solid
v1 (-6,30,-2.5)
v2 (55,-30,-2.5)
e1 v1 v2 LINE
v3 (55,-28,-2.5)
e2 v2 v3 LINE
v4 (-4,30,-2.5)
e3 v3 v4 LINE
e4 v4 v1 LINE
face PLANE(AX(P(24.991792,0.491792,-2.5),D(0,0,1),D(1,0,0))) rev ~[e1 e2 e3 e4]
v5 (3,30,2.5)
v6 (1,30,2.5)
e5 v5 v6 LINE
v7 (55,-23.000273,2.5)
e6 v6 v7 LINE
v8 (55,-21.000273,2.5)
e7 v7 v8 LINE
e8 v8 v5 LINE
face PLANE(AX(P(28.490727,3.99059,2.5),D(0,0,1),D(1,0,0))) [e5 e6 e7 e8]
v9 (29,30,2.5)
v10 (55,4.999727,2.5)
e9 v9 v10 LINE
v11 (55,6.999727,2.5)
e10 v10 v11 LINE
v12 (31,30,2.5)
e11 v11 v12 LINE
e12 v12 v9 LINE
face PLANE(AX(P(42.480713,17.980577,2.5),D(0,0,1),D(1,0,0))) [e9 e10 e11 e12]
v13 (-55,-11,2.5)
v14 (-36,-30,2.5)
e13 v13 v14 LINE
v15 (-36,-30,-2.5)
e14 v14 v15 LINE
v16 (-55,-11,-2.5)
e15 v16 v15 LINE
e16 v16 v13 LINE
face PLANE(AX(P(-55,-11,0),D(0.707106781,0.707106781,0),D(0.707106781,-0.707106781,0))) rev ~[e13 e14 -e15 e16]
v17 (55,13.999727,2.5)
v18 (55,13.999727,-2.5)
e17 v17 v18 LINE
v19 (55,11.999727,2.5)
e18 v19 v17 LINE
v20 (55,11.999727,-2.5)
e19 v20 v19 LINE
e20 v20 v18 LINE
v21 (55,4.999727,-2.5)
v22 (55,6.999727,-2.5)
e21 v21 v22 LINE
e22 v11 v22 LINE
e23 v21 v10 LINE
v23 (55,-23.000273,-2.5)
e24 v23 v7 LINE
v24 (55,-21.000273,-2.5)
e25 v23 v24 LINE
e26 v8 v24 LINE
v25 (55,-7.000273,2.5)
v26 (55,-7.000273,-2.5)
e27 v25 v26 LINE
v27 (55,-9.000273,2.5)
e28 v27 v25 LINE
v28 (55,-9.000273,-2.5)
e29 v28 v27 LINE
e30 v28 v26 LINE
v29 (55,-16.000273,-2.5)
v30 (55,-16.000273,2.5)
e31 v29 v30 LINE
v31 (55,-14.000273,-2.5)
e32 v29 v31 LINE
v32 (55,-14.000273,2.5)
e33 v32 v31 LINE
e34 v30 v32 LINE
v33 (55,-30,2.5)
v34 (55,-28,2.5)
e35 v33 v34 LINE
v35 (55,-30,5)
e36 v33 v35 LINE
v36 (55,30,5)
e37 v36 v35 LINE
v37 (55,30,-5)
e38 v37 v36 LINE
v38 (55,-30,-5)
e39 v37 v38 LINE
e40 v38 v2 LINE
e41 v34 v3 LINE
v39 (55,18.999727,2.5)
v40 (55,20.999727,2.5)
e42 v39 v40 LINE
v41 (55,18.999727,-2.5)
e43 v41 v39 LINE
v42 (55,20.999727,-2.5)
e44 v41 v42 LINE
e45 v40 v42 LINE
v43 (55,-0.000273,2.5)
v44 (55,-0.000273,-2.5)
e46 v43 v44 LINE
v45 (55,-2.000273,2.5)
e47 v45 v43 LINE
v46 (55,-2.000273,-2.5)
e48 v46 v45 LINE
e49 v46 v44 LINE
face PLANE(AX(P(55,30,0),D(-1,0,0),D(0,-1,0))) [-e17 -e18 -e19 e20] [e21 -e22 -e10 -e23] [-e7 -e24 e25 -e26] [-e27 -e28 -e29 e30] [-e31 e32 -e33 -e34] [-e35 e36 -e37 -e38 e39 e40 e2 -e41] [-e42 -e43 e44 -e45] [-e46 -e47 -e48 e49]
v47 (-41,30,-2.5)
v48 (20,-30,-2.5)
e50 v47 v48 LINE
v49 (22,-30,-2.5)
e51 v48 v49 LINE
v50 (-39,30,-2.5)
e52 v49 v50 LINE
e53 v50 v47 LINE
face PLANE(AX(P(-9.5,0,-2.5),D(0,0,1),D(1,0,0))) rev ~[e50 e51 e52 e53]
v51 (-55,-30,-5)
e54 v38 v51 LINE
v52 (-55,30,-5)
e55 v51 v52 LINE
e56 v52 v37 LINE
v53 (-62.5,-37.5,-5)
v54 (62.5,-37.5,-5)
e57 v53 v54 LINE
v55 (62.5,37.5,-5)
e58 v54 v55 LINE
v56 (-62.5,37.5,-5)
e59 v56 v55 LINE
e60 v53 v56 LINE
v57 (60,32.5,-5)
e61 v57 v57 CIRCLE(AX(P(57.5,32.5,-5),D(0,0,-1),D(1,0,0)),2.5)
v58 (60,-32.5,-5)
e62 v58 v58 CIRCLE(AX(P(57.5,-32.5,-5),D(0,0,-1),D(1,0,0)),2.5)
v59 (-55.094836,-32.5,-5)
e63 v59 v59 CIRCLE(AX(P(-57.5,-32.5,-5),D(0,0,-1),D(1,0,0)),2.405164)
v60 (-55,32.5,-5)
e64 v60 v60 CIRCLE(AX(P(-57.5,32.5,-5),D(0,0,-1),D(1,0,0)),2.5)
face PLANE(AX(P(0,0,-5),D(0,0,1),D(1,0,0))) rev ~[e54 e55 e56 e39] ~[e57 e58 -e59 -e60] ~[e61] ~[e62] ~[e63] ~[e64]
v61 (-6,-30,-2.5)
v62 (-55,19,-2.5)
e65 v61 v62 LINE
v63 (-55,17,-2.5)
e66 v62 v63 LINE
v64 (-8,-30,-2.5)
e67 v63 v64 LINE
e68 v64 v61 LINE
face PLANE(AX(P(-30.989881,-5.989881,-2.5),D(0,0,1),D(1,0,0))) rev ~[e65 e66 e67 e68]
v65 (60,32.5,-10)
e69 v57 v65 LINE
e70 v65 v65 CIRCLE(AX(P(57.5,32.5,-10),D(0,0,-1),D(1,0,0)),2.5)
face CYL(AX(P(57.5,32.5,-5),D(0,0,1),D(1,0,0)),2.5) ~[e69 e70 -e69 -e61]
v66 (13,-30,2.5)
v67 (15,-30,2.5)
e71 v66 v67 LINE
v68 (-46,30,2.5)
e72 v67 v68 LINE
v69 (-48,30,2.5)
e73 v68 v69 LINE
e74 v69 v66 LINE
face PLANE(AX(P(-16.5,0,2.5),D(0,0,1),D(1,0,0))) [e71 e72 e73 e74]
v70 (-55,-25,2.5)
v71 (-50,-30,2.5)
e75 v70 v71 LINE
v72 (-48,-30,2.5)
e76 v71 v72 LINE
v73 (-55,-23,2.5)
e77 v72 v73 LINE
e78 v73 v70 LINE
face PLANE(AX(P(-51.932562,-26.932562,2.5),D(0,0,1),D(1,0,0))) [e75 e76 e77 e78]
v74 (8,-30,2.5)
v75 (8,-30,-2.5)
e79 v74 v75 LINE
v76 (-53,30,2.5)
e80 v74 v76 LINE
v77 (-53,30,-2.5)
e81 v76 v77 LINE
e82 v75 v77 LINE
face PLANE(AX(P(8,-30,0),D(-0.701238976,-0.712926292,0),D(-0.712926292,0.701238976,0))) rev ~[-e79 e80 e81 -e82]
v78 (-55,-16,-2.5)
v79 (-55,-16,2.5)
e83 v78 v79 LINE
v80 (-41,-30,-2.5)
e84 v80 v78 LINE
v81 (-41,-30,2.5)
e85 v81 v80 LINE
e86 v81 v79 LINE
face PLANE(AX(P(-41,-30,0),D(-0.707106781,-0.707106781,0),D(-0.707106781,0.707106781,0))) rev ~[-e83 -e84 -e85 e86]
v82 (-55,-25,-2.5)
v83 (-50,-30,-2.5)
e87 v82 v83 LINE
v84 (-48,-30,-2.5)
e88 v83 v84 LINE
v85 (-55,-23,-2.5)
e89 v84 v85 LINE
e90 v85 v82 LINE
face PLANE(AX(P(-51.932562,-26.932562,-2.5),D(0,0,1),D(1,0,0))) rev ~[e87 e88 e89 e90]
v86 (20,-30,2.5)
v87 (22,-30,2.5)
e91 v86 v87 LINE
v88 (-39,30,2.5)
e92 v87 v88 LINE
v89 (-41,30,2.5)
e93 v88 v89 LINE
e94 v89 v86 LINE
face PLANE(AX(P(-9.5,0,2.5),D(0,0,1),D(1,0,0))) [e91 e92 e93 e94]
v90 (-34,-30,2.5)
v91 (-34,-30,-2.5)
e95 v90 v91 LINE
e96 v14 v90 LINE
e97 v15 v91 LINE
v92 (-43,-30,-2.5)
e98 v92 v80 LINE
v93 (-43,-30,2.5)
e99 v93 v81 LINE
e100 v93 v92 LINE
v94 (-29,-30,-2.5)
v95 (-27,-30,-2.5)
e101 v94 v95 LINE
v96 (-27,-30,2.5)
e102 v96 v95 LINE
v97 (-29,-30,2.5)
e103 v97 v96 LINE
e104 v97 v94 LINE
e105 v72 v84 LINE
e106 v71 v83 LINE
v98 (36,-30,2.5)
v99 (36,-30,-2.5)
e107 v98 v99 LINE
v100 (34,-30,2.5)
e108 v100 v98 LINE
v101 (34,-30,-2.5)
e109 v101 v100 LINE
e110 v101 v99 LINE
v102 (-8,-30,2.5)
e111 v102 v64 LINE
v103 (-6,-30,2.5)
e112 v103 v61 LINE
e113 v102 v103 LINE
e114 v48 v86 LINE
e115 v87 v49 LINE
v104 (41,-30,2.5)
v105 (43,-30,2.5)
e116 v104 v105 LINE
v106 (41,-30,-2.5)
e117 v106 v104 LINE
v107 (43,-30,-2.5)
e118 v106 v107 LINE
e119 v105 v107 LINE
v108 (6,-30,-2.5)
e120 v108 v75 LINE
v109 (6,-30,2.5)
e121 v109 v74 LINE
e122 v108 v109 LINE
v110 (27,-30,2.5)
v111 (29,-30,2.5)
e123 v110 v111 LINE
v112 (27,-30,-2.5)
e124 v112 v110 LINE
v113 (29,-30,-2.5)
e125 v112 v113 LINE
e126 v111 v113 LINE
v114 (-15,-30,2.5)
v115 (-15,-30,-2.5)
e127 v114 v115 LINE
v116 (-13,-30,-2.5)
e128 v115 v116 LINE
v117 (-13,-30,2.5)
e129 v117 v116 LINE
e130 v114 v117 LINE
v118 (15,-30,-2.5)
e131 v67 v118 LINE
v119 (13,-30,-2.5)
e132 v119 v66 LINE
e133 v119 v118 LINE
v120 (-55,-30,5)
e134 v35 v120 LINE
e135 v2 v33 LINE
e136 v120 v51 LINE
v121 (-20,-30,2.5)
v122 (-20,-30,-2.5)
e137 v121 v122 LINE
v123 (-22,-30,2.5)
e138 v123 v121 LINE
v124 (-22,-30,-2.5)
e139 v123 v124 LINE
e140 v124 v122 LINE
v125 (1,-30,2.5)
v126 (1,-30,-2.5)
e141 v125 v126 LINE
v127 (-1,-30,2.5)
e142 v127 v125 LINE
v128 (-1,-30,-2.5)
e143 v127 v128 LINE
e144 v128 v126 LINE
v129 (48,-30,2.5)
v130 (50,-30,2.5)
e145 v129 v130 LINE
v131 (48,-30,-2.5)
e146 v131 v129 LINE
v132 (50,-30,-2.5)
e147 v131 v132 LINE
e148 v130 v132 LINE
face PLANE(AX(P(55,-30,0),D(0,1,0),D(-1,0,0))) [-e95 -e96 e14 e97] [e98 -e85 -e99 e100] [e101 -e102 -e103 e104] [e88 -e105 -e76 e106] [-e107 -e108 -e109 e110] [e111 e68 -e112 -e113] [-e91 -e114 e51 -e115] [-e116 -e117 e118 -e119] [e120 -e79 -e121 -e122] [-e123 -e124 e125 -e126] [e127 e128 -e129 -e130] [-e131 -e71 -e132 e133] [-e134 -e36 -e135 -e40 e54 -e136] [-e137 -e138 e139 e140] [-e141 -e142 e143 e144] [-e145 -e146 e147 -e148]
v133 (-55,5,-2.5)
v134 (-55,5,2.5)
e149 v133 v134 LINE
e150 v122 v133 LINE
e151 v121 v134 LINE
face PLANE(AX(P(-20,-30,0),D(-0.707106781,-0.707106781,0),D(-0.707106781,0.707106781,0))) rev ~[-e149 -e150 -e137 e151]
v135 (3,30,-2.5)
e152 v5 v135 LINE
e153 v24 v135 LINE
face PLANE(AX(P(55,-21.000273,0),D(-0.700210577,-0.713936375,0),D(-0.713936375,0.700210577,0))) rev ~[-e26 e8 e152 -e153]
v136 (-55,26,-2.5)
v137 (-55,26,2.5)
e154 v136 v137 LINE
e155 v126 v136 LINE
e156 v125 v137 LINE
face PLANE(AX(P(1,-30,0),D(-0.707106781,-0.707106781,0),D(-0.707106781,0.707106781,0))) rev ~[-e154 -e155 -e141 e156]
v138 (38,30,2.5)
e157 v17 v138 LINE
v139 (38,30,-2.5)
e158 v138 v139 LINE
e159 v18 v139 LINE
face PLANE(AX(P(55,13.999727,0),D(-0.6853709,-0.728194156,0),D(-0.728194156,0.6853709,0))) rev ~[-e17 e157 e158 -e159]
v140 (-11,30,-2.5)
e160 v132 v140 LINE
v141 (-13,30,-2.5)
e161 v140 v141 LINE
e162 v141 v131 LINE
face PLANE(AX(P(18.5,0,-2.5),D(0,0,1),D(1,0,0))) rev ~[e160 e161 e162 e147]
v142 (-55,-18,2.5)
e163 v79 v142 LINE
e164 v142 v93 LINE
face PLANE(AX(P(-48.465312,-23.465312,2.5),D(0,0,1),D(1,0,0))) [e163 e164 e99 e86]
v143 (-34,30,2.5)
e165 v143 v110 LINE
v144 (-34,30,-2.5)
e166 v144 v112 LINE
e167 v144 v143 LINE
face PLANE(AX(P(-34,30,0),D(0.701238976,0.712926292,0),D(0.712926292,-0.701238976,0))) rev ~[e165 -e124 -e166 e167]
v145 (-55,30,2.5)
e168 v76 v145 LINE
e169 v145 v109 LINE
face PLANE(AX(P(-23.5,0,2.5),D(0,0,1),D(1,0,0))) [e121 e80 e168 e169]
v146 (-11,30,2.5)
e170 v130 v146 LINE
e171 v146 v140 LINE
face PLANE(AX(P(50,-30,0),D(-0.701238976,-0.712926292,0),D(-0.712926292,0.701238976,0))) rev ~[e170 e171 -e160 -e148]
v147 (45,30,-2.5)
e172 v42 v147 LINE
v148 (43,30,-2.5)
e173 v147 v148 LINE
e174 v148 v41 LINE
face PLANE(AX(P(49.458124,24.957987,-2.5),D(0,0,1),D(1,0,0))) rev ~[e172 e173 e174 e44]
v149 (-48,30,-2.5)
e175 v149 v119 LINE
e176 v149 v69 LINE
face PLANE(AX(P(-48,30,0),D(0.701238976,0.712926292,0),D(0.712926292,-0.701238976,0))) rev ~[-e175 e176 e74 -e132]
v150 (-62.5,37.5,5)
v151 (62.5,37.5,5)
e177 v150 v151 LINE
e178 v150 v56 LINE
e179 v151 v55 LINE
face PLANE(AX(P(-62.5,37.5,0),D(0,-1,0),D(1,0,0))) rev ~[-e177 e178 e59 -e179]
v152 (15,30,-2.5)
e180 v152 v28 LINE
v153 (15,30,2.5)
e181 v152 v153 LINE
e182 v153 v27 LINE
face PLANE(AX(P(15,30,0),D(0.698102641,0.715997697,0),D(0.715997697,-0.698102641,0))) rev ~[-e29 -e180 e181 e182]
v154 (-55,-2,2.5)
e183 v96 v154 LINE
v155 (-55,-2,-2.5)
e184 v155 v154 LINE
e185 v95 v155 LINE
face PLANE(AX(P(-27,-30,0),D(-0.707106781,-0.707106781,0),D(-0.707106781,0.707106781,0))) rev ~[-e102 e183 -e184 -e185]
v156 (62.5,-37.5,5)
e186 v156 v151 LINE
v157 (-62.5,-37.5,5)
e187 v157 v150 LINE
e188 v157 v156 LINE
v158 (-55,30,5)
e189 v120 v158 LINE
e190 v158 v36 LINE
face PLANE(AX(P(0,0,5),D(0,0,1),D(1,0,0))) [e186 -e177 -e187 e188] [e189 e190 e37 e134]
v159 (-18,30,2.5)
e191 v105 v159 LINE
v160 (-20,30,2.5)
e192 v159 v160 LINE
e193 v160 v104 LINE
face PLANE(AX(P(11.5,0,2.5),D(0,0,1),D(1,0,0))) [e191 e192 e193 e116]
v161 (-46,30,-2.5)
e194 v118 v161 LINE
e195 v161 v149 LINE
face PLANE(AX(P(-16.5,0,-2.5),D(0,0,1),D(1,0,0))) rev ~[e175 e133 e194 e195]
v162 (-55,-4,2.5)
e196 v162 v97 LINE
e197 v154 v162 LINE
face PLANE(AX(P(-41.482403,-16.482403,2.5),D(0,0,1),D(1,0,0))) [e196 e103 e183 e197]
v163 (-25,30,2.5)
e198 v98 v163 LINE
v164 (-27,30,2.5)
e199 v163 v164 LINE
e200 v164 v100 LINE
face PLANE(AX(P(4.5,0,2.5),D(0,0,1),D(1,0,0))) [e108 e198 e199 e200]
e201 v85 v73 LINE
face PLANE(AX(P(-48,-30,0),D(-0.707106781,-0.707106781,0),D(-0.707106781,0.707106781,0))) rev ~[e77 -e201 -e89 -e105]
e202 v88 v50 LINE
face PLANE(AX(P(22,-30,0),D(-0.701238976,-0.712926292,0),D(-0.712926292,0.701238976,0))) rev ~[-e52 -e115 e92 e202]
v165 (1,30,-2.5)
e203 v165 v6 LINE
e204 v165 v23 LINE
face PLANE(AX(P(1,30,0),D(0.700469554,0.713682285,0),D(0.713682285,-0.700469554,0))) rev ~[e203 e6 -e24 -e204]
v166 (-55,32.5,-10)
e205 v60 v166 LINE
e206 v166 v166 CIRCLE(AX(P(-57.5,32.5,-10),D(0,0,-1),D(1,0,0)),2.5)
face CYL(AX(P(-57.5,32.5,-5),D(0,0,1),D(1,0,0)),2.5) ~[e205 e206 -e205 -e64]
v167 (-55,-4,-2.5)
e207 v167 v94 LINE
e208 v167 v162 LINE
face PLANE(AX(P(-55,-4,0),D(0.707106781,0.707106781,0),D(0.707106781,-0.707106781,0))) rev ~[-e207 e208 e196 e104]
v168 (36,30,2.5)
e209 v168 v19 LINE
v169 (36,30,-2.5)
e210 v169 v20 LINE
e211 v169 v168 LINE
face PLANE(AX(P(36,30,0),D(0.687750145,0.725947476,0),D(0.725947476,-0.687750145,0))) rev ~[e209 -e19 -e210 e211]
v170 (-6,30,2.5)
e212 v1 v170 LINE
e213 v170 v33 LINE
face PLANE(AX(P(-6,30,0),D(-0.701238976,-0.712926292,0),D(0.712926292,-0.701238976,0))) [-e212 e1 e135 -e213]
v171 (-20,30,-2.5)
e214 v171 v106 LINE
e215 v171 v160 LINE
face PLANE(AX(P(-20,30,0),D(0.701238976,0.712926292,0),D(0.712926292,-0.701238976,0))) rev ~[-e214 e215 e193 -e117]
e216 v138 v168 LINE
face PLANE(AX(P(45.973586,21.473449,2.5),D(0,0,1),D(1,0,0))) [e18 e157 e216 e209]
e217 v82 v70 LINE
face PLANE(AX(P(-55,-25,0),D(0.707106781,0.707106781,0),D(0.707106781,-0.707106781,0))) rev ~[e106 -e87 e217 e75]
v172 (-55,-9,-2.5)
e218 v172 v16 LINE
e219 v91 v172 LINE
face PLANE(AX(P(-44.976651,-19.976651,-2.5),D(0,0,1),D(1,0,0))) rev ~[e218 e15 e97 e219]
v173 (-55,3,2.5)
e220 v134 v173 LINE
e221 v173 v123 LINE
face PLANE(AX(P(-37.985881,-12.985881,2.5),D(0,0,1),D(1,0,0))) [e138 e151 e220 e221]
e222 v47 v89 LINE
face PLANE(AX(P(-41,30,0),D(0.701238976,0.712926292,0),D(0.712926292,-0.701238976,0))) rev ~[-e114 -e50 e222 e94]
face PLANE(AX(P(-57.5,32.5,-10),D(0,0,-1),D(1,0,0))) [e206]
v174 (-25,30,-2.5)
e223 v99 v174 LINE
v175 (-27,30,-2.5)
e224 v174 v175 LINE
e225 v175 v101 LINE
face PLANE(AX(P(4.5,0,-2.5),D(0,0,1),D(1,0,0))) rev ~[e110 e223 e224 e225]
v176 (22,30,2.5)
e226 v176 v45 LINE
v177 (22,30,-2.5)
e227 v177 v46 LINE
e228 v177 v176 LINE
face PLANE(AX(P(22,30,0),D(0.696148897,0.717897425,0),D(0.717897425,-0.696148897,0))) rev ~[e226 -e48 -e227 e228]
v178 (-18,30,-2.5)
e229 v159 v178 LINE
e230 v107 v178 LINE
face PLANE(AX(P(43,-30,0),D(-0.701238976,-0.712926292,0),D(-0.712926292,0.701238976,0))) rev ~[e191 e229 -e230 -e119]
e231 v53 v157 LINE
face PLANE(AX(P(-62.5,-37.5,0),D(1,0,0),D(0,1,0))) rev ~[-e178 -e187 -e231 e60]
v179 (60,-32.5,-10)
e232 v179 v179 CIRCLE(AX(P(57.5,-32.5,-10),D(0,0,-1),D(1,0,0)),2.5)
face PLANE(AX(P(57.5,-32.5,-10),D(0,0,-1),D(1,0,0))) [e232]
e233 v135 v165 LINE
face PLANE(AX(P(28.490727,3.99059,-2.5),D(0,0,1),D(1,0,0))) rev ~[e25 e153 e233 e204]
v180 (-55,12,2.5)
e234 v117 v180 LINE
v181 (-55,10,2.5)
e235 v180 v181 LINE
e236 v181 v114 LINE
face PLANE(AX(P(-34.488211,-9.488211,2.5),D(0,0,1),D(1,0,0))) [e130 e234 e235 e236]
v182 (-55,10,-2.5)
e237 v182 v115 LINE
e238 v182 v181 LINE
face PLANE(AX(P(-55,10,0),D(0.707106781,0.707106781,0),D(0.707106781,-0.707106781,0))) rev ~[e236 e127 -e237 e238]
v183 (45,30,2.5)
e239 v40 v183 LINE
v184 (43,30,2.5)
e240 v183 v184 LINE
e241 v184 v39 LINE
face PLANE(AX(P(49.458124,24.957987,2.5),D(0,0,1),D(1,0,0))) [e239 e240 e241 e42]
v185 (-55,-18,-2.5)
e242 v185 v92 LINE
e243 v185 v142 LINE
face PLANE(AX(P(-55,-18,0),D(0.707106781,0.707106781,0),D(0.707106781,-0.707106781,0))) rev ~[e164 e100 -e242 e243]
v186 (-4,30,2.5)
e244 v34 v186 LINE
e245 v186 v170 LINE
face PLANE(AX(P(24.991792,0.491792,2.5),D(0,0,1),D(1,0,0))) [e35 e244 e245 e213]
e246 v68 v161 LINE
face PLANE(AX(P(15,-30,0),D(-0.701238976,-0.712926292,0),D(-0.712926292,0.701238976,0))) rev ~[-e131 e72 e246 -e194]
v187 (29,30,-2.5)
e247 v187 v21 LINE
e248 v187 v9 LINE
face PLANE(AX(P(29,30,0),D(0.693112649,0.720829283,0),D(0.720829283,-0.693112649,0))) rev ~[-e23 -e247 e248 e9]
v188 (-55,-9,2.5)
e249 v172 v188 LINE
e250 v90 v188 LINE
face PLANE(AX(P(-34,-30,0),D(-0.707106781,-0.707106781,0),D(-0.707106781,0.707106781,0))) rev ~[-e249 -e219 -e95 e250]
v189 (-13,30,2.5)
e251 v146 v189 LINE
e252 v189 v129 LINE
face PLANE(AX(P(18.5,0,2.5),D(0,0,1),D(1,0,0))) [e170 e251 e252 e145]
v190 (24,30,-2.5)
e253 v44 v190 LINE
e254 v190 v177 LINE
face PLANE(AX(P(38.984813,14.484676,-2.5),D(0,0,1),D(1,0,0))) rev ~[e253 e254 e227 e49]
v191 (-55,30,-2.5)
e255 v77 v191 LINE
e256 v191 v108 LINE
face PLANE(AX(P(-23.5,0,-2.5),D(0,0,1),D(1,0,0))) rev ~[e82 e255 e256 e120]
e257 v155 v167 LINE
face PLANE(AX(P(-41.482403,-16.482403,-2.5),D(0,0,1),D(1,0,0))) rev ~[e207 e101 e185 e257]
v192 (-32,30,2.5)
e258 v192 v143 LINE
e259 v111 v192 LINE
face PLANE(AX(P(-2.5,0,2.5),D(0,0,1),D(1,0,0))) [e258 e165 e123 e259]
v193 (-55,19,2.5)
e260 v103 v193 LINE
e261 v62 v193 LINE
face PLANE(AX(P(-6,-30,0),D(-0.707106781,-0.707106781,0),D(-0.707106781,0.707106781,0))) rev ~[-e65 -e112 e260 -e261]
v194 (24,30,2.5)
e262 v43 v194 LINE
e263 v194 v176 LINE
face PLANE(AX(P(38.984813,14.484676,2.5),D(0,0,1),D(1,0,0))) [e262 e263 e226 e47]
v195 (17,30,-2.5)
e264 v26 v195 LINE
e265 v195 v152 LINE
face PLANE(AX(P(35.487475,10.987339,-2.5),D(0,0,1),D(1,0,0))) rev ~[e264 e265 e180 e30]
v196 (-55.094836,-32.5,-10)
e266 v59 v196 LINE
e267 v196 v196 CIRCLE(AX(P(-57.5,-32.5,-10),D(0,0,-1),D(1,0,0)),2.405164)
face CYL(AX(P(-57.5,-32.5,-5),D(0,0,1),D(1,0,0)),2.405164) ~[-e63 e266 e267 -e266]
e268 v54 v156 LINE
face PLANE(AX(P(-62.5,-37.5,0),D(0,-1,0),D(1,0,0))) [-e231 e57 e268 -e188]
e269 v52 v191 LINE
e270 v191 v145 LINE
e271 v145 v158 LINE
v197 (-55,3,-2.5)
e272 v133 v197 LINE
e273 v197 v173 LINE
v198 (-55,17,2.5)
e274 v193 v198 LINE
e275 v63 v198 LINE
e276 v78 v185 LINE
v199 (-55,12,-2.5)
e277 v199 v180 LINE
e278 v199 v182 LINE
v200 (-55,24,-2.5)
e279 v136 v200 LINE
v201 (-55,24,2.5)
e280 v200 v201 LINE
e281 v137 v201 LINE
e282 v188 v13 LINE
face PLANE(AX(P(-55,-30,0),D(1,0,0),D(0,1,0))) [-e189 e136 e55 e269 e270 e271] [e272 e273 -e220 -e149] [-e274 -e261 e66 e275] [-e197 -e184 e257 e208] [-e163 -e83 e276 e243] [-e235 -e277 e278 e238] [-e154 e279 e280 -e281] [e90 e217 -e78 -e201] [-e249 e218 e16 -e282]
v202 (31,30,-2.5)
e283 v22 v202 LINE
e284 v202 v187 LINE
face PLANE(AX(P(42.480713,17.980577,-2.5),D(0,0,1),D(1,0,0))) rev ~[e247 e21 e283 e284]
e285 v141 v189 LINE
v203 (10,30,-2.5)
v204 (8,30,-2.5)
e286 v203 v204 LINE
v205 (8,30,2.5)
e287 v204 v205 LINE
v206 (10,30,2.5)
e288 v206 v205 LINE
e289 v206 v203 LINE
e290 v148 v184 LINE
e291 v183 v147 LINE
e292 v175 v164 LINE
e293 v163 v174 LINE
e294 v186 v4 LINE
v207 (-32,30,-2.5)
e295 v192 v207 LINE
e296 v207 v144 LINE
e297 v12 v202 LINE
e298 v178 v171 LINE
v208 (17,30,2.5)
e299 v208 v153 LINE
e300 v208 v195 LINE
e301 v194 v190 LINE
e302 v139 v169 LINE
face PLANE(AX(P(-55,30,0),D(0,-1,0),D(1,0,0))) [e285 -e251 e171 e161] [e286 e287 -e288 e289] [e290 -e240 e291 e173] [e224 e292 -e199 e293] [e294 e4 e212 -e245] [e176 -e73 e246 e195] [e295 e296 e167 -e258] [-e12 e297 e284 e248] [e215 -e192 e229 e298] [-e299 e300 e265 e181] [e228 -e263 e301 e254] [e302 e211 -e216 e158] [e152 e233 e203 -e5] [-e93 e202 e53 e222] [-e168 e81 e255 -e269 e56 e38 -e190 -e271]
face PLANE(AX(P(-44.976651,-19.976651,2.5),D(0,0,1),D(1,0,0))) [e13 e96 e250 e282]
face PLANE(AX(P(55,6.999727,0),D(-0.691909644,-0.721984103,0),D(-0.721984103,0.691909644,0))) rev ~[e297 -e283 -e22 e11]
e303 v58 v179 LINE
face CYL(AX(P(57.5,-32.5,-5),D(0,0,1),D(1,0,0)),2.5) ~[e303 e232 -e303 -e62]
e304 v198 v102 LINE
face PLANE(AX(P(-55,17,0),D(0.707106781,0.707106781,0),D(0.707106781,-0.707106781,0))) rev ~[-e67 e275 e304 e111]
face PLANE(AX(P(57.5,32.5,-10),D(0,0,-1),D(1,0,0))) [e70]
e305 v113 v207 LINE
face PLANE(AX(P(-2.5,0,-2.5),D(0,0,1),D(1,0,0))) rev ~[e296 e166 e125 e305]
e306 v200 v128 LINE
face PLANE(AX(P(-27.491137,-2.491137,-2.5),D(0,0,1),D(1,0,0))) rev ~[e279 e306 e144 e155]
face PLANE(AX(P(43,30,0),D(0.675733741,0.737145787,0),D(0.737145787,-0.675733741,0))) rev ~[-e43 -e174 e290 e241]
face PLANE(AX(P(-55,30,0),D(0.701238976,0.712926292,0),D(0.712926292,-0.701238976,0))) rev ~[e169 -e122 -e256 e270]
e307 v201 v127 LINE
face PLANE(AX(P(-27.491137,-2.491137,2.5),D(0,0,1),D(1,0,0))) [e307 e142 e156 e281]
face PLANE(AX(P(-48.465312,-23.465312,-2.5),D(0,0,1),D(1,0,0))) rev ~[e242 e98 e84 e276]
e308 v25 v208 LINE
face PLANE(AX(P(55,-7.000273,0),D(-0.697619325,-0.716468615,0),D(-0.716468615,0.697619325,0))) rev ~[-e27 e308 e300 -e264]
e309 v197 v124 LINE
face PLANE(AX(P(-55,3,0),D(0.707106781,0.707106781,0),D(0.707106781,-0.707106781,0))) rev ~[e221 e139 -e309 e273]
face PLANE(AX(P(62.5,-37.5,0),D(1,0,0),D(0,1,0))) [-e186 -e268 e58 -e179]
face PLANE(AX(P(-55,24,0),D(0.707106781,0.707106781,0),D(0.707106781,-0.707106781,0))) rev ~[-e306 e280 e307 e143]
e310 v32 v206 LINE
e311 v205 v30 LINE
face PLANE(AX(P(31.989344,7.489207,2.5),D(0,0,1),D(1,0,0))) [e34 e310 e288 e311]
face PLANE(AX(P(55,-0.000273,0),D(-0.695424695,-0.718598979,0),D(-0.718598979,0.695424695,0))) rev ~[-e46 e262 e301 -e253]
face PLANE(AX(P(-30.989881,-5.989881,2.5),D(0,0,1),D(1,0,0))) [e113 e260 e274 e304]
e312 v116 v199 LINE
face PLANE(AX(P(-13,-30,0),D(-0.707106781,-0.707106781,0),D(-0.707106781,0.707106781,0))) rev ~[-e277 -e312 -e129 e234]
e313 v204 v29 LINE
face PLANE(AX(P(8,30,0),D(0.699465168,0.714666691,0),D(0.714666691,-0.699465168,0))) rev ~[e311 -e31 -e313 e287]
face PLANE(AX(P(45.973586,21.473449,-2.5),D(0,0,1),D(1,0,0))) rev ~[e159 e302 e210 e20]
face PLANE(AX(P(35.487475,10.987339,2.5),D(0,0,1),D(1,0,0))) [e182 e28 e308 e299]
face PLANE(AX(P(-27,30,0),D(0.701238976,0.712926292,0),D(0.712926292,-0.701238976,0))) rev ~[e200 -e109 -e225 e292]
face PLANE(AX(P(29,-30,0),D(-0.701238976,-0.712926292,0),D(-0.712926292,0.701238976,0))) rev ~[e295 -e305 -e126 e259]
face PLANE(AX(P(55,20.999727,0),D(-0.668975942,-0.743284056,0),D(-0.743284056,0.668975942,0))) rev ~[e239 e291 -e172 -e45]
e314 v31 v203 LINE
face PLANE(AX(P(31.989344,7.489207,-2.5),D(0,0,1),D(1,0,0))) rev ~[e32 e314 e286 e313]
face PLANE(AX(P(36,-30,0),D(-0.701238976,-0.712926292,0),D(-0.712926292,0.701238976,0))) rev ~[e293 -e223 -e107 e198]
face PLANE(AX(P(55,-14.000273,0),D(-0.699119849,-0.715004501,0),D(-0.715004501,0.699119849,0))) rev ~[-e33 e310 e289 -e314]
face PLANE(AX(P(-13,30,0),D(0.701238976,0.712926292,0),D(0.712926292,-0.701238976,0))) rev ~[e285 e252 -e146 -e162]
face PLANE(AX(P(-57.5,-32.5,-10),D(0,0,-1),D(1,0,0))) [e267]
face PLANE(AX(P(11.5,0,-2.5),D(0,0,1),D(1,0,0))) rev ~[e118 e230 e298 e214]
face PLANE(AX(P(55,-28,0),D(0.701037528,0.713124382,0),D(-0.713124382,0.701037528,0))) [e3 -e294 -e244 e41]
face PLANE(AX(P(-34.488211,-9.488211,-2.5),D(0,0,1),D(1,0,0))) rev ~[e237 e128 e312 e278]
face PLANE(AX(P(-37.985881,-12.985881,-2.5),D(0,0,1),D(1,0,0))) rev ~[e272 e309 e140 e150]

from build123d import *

# Parameters (mm, degrees)
F0_W     = 125
F0_H     = 75
F1_DEPTH = 5
F2_DEPTH = 2.5
F3_R     = 2.405164
F3_R_2   = 2.5
F4_DEPTH = 5


with BuildPart() as f1:
    # F0 (on Top) → F1 (new body, symmetric)
    with BuildSketch(Plane.XY):
        Rectangle(F0_W, F0_H)
        Polygon((-55, 26), (-55, 30), (-53, 30), (-48, 30), (-46, 30), (-41, 30), (-39, 30), (-34, 30), (-32, 30), (-27, 30), (-25, 30), (-20, 30), (-18, 30), (-13, 30), (-11, 30), (-6, 30), (-4, 30), (1, 30), (3, 30), (8, 30), (10, 30), (15, 30), (17, 30), (22, 30), (24, 30), (29, 30), (31, 30), (36, 30), (38, 30), (43, 30), (45, 30), (55, 30), (55, 20.999727), (55, 18.999727), (55, 13.999727), (55, 11.999727), (55, 6.999727), (55, 4.999727), (55, -0.000273), (55, -2.000273), (55, -7.000273), (55, -9.000273), (55, -14.000273), (55, -16.000273), (55, -21.000273), (55, -23.000273), (55, -28), (55, -30), (50, -30), (48, -30), (43, -30), (41, -30), (36, -30), (34, -30), (29, -30), (27, -30), (22, -30), (20, -30), (15, -30), (13, -30), (8, -30), (6, -30), (1, -30), (-1, -30), (-6, -30), (-8, -30), (-13, -30), (-15, -30), (-20, -30), (-22, -30), (-27, -30), (-29, -30), (-34, -30), (-36, -30), (-41, -30), (-43, -30), (-48, -30), (-50, -30), (-55, -30), (-55, -25), (-55, -23), (-55, -18), (-55, -16), (-55, -11), (-55, -9), (-55, -4), (-55, -2), (-55, 3), (-55, 5), (-55, 10), (-55, 12), (-55, 17), (-55, 19), (-55, 24), align=None, mode=Mode.SUBTRACT)
    extrude(amount=F1_DEPTH, both=True)

    # F0 (on Top) → F2 (join, symmetric)
    with BuildSketch(Plane.XY):
        Polygon((-48, -30), (-55, -23), (-55, -25), (-50, -30), align=None)
        Polygon((-41, -30), (-55, -16), (-55, -18), (-43, -30), align=None)
        Polygon((-34, -30), (-55, -9), (-55, -11), (-36, -30), align=None)
        Polygon((-27, -30), (-55, -2), (-55, -4), (-29, -30), align=None)
        Polygon((-20, -30), (-55, 5), (-55, 3), (-22, -30), align=None)
        Polygon((-13, -30), (-55, 12), (-55, 10), (-15, -30), align=None)
        Polygon((-6, -30), (-55, 19), (-55, 17), (-8, -30), align=None)
        Polygon((1, -30), (-55, 26), (-55, 24), (-1, -30), align=None)
        Polygon((-53, 30), (-55, 30), (6, -30), (8, -30), align=None)
        Polygon((-46, 30), (-48, 30), (13, -30), (15, -30), align=None)
        Polygon((-39, 30), (-41, 30), (20, -30), (22, -30), align=None)
        Polygon((-32, 30), (-34, 30), (27, -30), (29, -30), align=None)
        Polygon((-25, 30), (-27, 30), (34, -30), (36, -30), align=None)
        Polygon((-18, 30), (-20, 30), (41, -30), (43, -30), align=None)
        Polygon((-11, 30), (-13, 30), (48, -30), (50, -30), align=None)
        Polygon((3, 30), (1, 30), (55, -23.000273), (55, -21.000273), align=None)
        Polygon((10, 30), (8, 30), (55, -16.000273), (55, -14.000273), align=None)
        Polygon((45, 30), (43, 30), (55, 18.999727), (55, 20.999727), align=None)
        Polygon((38, 30), (36, 30), (55, 11.999727), (55, 13.999727), align=None)
        Polygon((31, 30), (29, 30), (55, 4.999727), (55, 6.999727), align=None)
        Polygon((24, 30), (22, 30), (55, -2.000273), (55, -0.000273), align=None)
        Polygon((17, 30), (15, 30), (55, -9.000273), (55, -7.000273), align=None)
        Polygon((-4, 30), (-6, 30), (55, -30), (55, -28), align=None)
    extrude(amount=F2_DEPTH, both=True)

    # F3 (on face) → F4 (join)
    with BuildSketch(Plane(origin=(0, 0, -5), x_dir=(1, 0, 0), z_dir=(0, 0, -1))):
        with Locations((-57.5, 32.5)):
            Circle(F3_R)
        with Locations((57.5, 32.5)):
            Circle(F3_R_2)
        with Locations((57.5, -32.5)):
            Circle(F3_R_2)
        with Locations((-57.5, -32.5)):
            Circle(F3_R_2)
    extrude(amount=F4_DEPTH)


solid = f1.part
